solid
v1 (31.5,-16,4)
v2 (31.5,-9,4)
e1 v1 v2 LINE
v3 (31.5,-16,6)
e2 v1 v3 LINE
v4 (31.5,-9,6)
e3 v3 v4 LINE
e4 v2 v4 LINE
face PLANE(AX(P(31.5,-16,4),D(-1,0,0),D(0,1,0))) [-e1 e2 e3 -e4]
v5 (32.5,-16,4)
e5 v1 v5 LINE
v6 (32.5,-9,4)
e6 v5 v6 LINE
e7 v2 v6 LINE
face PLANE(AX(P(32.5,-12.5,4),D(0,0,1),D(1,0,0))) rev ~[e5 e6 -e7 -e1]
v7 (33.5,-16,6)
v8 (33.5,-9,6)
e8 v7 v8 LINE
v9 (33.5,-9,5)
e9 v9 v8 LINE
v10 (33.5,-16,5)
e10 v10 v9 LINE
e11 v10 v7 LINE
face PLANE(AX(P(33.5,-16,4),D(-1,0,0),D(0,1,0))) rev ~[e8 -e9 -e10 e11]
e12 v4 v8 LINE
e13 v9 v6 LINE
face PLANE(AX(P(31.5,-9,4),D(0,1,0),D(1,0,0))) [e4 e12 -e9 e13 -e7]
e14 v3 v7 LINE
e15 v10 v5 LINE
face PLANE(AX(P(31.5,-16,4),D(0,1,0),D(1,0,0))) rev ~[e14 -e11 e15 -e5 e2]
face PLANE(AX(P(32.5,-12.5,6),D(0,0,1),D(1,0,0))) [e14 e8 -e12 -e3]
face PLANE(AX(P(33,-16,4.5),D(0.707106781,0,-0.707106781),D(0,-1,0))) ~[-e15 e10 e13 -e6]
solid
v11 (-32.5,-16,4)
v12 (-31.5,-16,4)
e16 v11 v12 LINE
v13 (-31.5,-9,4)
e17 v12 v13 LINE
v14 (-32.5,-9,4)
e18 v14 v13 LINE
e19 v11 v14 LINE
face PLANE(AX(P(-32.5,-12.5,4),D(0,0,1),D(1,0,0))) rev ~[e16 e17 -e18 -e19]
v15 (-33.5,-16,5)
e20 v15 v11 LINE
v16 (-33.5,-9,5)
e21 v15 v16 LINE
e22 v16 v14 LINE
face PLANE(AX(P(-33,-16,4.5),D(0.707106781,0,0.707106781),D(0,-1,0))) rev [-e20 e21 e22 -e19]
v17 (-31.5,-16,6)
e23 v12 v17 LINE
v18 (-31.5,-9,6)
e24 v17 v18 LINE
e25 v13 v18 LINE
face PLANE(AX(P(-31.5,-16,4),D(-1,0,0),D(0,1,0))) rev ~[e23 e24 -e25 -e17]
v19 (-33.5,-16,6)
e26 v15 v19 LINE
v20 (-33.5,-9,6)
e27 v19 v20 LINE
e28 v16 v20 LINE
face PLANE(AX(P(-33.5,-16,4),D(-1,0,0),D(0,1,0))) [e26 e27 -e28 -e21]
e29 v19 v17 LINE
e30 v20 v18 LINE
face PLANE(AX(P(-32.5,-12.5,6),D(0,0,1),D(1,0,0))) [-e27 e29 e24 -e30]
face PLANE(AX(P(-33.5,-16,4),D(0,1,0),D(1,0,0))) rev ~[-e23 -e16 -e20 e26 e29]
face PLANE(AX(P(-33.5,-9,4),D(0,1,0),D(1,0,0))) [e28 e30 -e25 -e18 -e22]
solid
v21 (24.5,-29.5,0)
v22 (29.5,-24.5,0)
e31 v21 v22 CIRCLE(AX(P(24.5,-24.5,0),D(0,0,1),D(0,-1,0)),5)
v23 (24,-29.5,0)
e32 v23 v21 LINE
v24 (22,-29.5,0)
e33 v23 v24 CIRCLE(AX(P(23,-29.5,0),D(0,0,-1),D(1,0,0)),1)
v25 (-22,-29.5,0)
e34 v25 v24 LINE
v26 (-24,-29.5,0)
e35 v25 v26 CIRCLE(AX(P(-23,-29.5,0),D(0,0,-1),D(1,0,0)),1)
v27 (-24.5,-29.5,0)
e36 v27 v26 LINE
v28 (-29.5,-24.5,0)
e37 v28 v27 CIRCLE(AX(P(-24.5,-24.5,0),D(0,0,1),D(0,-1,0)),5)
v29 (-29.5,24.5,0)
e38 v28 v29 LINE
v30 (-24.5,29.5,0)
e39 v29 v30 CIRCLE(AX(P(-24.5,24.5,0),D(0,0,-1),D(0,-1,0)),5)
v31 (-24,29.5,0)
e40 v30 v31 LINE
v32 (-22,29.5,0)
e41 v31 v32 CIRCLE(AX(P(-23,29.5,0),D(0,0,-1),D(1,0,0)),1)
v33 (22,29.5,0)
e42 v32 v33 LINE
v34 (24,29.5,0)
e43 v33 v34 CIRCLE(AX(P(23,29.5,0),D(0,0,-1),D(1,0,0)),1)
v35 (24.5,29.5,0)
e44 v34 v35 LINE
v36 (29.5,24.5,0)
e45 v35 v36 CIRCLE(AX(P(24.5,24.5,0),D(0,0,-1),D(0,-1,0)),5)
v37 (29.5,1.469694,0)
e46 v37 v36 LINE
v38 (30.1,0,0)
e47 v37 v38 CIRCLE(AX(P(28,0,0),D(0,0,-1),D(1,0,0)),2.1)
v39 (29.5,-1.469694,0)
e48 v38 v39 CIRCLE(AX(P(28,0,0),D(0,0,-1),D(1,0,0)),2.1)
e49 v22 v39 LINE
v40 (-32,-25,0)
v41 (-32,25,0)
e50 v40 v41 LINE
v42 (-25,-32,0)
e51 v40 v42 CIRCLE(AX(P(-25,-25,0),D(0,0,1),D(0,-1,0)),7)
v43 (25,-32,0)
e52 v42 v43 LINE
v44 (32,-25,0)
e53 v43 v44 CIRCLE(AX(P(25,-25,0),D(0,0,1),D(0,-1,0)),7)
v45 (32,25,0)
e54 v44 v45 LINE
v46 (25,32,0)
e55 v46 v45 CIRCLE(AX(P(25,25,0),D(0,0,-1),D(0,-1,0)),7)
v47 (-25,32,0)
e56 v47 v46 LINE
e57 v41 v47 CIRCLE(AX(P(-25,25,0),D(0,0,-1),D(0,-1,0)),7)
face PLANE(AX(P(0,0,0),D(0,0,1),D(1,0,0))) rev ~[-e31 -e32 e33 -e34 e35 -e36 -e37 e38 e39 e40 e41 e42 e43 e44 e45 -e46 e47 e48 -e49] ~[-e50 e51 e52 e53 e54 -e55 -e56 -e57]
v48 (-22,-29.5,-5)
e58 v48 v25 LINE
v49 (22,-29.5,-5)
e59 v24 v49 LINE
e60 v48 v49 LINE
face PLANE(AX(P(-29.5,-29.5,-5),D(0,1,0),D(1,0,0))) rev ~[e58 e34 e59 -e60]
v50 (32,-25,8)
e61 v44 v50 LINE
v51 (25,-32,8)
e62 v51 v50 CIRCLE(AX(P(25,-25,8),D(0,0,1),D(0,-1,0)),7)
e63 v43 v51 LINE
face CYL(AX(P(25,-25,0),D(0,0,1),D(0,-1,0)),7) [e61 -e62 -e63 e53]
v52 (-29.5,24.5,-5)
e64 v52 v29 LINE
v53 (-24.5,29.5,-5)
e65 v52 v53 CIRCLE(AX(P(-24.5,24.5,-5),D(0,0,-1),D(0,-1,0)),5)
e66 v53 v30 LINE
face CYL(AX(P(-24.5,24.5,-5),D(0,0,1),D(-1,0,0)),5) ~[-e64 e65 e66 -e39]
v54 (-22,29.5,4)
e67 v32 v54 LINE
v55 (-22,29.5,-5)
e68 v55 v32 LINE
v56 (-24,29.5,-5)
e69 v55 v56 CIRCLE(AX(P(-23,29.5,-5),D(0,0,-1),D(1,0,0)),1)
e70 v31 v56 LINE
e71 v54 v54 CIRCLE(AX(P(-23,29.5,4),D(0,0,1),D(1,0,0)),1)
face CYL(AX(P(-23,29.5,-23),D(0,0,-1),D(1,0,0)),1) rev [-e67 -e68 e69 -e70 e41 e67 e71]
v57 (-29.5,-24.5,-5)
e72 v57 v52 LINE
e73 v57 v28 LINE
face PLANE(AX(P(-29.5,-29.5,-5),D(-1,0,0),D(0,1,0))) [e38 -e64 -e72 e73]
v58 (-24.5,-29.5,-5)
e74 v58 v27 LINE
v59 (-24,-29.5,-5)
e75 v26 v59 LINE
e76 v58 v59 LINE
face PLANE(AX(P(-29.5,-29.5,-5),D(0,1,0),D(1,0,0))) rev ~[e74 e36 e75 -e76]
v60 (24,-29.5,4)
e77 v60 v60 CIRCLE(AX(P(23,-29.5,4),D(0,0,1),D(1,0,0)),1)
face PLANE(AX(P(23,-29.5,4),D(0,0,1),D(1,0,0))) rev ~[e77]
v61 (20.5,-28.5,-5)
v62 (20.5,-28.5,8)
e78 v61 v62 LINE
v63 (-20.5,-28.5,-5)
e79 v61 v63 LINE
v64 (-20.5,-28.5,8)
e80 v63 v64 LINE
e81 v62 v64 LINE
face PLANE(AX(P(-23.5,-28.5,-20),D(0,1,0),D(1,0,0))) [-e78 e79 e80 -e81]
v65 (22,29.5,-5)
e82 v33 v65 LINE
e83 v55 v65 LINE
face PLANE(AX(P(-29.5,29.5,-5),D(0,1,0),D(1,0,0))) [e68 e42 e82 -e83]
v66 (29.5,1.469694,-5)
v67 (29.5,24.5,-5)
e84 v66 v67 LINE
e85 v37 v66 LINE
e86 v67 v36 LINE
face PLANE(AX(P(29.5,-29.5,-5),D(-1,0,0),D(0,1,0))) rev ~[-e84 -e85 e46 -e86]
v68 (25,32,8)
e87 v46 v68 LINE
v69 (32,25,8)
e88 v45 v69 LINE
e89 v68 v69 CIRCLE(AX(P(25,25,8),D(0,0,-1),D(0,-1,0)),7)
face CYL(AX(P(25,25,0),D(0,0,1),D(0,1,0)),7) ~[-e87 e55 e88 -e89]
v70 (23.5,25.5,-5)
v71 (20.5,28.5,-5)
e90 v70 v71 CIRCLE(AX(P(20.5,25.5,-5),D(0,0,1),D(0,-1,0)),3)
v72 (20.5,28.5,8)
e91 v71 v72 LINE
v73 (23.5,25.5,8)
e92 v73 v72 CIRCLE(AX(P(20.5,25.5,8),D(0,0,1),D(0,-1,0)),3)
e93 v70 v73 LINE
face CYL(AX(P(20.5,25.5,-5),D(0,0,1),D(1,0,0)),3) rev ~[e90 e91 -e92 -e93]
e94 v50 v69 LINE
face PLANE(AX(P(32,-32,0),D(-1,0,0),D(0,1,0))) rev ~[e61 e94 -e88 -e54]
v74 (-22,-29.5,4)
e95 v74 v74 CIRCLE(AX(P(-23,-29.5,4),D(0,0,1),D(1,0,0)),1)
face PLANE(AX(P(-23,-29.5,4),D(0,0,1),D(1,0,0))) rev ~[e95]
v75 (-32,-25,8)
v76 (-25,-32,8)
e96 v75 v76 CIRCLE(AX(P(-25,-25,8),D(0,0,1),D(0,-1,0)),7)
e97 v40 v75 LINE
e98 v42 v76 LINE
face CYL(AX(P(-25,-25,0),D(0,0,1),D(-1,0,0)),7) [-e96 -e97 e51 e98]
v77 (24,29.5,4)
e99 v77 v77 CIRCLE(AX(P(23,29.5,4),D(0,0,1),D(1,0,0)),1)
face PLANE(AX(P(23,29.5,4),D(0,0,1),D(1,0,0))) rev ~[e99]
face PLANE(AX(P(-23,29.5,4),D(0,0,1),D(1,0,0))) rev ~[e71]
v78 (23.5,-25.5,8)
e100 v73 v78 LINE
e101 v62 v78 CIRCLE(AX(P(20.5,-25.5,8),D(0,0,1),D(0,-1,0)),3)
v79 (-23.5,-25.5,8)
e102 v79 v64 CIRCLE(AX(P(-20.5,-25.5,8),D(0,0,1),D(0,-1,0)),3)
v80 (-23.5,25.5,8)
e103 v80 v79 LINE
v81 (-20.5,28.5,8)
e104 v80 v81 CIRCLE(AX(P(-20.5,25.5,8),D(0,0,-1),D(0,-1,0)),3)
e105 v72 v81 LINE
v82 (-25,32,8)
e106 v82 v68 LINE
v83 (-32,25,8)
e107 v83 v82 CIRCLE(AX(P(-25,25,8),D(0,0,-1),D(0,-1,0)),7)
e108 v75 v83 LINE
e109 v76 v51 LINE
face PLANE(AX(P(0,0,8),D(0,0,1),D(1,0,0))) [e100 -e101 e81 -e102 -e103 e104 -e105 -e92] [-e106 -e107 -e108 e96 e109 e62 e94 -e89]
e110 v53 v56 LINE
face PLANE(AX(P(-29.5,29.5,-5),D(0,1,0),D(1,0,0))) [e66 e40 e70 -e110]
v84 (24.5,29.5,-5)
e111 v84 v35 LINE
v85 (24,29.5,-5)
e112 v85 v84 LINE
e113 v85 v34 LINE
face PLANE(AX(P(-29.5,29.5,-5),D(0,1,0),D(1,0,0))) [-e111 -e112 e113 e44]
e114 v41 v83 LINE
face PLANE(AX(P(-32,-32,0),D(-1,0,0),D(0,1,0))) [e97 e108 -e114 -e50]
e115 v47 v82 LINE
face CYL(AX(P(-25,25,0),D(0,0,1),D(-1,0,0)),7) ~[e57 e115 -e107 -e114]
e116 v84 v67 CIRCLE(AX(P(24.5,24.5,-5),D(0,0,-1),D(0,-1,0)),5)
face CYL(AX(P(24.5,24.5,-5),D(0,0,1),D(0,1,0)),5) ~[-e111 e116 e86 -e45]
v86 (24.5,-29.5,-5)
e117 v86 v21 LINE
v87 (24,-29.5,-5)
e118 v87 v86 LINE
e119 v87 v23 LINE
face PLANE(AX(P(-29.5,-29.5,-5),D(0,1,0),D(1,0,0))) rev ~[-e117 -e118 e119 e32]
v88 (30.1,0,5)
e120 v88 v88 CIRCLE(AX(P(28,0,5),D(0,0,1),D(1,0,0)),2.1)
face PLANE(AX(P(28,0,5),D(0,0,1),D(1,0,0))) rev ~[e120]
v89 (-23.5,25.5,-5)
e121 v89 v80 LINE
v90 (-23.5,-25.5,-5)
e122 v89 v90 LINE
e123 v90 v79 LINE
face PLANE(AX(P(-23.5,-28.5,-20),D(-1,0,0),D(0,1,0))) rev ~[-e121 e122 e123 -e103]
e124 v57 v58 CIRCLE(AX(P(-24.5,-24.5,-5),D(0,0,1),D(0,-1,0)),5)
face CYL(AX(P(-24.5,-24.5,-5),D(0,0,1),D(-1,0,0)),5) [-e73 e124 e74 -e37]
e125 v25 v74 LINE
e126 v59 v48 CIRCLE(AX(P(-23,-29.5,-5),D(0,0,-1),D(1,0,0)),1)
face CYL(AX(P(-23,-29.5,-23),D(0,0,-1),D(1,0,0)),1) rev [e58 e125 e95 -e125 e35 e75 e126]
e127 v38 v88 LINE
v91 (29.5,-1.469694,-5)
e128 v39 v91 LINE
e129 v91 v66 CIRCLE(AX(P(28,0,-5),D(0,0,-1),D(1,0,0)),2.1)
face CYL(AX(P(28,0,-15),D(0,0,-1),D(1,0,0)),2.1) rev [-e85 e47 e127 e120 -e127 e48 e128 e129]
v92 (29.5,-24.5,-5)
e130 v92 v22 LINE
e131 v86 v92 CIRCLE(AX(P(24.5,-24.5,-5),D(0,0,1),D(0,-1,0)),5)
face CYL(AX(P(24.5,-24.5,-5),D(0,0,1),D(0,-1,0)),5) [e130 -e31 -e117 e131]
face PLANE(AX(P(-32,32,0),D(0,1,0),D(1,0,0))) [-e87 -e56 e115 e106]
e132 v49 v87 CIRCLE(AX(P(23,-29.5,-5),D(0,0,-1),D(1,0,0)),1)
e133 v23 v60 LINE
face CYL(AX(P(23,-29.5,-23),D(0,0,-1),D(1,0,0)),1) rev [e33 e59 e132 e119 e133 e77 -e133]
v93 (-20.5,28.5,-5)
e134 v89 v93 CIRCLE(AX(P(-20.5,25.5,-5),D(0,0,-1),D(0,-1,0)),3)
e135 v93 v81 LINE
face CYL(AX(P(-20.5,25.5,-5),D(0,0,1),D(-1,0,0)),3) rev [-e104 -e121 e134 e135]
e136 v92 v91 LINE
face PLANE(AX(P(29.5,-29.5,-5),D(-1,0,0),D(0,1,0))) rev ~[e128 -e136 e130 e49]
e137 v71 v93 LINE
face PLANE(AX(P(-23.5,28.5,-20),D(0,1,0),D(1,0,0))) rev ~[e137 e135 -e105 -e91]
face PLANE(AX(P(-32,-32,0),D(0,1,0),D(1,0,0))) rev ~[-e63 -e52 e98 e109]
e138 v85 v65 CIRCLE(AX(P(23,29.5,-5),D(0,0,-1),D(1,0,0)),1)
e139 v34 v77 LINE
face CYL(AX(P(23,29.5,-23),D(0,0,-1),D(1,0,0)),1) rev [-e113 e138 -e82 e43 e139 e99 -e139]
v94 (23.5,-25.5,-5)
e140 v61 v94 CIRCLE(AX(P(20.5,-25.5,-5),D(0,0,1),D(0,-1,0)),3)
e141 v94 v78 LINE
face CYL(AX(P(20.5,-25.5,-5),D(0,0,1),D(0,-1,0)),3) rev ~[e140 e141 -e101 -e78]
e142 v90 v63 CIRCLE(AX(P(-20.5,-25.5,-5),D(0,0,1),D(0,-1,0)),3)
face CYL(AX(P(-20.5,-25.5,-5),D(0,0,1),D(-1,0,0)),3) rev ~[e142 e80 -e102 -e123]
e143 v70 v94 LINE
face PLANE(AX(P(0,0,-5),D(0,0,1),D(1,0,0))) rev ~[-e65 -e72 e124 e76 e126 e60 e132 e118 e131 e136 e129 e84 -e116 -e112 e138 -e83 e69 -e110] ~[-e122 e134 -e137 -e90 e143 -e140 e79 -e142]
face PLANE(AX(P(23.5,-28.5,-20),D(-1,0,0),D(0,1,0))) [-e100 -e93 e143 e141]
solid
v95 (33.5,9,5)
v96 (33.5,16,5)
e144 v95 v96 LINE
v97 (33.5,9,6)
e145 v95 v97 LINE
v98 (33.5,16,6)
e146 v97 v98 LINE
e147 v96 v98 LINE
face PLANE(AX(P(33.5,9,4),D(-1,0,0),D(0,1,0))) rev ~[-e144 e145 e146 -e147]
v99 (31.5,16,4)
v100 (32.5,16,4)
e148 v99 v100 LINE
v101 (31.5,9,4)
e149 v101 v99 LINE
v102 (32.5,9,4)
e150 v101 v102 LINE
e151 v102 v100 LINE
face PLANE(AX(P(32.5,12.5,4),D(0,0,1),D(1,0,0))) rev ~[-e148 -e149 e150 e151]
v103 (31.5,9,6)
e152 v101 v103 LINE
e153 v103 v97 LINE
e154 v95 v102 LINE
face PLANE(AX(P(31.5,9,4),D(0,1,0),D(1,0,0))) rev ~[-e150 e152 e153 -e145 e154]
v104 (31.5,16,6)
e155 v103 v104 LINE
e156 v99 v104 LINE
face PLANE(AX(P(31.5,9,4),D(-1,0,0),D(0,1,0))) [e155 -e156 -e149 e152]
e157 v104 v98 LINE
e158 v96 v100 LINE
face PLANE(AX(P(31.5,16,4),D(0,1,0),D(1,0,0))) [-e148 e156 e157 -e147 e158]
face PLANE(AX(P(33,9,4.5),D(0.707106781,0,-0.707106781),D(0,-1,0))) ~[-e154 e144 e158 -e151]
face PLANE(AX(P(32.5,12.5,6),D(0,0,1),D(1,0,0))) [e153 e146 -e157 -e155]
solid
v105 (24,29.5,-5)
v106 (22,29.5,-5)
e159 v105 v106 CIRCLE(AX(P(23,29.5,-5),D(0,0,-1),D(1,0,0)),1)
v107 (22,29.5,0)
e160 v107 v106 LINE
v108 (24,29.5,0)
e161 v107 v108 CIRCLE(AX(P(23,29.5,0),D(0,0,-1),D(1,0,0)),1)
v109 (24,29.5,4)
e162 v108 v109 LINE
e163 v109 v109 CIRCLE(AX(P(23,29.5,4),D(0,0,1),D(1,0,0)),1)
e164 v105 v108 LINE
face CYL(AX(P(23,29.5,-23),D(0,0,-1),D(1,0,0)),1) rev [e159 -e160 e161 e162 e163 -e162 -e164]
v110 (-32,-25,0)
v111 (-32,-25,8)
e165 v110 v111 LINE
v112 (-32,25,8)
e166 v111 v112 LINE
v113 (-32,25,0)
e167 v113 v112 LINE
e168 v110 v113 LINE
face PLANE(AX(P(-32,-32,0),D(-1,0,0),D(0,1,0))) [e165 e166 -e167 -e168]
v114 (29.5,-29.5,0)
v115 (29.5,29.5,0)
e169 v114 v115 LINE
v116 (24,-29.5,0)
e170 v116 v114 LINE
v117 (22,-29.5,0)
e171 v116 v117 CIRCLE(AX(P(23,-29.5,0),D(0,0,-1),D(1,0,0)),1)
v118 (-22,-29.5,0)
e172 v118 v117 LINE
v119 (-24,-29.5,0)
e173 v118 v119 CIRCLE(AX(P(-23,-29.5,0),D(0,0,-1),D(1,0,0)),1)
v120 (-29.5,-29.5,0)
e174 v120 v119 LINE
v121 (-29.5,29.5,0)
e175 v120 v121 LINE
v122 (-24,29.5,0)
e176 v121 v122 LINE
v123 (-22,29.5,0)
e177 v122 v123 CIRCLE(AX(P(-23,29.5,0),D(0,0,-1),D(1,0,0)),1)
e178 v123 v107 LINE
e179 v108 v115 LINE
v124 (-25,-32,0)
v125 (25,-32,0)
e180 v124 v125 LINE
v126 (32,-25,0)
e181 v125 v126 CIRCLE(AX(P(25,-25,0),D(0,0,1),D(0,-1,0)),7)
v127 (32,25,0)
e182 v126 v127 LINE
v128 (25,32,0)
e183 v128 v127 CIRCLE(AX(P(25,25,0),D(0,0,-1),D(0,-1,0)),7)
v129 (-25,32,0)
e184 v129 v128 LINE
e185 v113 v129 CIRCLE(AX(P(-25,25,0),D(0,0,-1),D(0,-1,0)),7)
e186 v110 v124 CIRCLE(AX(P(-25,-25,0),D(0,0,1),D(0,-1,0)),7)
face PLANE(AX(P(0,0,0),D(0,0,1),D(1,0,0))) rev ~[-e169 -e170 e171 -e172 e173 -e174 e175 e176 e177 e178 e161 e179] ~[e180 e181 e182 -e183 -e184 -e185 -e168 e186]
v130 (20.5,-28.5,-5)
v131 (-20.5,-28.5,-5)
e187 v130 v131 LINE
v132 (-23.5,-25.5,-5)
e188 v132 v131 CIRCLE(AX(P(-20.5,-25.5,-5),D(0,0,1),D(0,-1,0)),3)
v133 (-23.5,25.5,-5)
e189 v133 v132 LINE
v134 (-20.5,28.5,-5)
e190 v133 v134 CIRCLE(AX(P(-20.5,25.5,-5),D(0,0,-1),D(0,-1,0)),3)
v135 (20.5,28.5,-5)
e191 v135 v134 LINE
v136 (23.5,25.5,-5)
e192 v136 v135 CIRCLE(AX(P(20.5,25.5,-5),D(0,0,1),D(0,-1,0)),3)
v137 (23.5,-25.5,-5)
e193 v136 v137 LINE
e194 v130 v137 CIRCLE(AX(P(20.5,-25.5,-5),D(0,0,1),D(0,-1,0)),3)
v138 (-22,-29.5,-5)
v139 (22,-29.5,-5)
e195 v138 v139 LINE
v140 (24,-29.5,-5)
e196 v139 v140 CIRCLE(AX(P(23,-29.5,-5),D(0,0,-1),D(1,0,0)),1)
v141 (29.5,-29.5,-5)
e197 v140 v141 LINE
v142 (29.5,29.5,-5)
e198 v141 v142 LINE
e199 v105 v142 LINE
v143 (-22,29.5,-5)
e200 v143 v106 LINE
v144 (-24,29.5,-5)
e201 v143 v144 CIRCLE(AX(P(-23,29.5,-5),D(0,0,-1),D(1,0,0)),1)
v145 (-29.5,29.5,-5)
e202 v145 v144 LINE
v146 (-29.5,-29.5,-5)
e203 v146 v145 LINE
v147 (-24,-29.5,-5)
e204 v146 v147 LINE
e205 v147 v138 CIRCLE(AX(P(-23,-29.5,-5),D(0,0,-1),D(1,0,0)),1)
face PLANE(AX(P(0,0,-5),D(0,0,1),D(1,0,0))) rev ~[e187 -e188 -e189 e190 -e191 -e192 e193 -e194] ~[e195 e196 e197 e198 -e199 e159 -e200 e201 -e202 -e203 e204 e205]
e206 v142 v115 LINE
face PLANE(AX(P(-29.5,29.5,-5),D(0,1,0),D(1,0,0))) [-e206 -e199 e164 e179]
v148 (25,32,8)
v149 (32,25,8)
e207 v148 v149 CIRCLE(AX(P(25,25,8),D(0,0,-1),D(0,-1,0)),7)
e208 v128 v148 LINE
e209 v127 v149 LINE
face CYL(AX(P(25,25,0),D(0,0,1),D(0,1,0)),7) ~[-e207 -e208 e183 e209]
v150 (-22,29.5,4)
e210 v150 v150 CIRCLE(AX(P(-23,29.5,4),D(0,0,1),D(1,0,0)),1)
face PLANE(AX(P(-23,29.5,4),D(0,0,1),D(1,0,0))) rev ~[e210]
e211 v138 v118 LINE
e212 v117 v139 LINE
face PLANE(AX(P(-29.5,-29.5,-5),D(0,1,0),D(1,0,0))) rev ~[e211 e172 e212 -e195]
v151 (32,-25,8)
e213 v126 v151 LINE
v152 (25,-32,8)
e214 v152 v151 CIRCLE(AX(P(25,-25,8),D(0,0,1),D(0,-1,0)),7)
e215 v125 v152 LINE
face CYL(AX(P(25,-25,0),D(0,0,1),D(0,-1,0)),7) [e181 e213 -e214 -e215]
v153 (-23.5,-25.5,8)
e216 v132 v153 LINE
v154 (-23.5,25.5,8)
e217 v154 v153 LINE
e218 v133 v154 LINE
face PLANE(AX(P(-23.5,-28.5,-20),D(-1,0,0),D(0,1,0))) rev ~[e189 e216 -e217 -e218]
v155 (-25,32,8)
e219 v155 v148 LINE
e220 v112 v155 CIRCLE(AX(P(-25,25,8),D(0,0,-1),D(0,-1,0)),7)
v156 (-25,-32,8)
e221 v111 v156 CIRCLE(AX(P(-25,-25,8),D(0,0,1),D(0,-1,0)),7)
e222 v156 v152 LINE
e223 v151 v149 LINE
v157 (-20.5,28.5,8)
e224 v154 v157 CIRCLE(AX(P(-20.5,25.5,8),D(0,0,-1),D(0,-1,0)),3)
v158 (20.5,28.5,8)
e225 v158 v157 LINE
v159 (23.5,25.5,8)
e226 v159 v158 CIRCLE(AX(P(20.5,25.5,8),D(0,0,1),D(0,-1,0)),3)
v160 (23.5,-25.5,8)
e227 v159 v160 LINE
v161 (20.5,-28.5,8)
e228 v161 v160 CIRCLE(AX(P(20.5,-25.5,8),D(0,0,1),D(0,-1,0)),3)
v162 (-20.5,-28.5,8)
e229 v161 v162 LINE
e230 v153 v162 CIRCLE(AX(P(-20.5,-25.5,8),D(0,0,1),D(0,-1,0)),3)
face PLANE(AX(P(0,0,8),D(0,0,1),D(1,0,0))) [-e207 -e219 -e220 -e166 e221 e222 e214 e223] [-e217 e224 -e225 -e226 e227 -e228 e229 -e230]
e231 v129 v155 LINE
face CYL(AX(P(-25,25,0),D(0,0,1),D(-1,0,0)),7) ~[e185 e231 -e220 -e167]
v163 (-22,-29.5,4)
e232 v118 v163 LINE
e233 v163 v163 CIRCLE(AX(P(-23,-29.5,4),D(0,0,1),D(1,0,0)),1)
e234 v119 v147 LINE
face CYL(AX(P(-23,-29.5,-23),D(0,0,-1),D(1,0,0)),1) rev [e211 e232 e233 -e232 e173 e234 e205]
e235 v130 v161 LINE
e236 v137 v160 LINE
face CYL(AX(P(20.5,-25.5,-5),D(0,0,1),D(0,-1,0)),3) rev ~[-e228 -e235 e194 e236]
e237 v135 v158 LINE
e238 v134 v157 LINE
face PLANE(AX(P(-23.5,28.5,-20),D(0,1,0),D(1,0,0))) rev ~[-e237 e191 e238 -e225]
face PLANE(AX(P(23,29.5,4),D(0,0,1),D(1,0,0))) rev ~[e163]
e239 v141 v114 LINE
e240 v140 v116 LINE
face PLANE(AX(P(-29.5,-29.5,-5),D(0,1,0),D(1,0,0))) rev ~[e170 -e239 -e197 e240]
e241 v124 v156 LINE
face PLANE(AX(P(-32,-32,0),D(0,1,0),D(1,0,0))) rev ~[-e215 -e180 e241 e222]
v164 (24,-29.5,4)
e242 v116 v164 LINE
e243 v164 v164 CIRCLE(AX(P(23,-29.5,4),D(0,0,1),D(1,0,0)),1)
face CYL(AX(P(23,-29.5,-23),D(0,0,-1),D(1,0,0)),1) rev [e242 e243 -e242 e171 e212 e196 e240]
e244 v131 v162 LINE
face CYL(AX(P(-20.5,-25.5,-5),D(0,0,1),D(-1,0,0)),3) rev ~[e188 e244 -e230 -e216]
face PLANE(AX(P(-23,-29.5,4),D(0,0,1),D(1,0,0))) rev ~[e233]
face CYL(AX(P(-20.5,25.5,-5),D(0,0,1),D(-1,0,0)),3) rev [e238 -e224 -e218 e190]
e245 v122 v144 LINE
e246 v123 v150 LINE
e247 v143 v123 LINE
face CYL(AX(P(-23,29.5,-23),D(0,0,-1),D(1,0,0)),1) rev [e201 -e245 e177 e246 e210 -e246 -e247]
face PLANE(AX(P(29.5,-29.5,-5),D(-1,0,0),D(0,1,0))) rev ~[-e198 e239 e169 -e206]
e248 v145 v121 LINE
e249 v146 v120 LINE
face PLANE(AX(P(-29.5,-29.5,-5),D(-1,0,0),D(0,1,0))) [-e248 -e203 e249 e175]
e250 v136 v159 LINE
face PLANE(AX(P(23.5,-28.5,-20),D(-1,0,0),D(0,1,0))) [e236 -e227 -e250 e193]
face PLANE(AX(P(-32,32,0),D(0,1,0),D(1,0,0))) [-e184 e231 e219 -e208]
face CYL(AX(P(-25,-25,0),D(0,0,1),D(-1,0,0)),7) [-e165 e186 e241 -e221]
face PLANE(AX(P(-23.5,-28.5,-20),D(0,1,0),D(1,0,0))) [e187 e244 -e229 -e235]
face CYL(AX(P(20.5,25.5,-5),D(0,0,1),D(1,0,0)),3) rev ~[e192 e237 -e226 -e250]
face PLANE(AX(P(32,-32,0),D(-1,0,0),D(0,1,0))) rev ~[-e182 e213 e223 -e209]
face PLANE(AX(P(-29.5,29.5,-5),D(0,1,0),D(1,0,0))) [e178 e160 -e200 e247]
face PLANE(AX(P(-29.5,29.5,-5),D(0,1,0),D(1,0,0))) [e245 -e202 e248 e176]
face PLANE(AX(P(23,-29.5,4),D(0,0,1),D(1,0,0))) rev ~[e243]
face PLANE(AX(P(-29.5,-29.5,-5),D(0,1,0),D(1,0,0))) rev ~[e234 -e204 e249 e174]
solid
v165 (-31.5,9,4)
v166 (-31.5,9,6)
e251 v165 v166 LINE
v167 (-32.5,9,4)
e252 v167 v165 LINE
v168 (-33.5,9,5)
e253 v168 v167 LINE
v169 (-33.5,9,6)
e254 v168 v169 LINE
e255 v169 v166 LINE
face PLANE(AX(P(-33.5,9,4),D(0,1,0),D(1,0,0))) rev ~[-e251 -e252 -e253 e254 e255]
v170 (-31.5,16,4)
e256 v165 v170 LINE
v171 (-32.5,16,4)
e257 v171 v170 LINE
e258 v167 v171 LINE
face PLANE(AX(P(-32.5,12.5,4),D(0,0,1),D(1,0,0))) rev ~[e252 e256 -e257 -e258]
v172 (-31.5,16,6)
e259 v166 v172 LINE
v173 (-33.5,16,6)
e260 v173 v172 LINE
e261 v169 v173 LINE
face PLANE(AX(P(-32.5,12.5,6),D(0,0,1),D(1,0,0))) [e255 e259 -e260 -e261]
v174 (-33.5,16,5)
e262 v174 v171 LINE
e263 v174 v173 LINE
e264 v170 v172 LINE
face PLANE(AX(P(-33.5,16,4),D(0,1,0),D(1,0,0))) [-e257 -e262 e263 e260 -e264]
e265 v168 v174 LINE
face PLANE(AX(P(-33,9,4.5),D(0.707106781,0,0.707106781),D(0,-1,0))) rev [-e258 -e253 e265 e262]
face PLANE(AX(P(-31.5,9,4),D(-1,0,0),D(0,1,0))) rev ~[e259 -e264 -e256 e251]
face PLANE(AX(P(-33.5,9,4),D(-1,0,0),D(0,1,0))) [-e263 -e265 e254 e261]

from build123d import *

# Parameters (mm, degrees)
BOX003_W          = 2
BOX003_H          = 7
BOX003_DEPTH      = 2
CHAMFER_SIZE      = 1
BOX004_W          = 2
BOX004_H          = 7
BOX004_DEPTH      = 2
CHAMFER001_SIZE   = 1
BOX005_W          = 2
BOX005_H          = 7
BOX005_DEPTH      = 2
CHAMFER002_SIZE   = 1
BOX006_W          = 2
BOX006_H          = 7
BOX006_DEPTH      = 2
CHAMFER003_SIZE   = 1
CYLINDER003_R     = 1
CYLINDER003_DEPTH = 27
CYLINDER002_R     = 1
CYLINDER002_DEPTH = 27
CYLINDER_R        = 1
CYLINDER_DEPTH    = 27
CYLINDER001_R     = 1
CYLINDER001_DEPTH = 27
BOX002_W          = 47
BOX002_H          = 57
BOX002_DEPTH      = 40
BOX001_W          = 59
BOX001_H          = 59
BOX001_DEPTH      = 5
BOX_W             = 64
BOX_H             = 64
BOX_DEPTH         = 8
FILLET_R          = 7
FILLET001_R       = 3
CYLINDER004_R     = 2.1
CYLINDER004_DEPTH = 20
FILLET002_R       = 5


with BuildPart() as chamfer_body:
    # Box003 → Box003 (new body)
    with BuildSketch(Plane(origin=(-33.5, 9, 4), x_dir=(1, 0, 0), z_dir=(0, 0, 1))):
        with Locations((1, 3.5)):
            Rectangle(BOX003_W, BOX003_H)
    extrude(amount=BOX003_DEPTH)

    # Chamfer
    chamfer_edges = [chamfer_body.edges().sort_by_distance(p)[0] for p in [
        (-33.5, 12.5, 4),
    ]]
    chamfer(chamfer_edges, length=CHAMFER_SIZE)


with BuildPart() as chamfer001:
    # Box004 → Box004 (new body)
    with BuildSketch(Plane(origin=(-33.5, -16, 4), x_dir=(1, 0, 0), z_dir=(0, 0, 1))):
        with Locations((1, 3.5)):
            Rectangle(BOX004_W, BOX004_H)
    extrude(amount=BOX004_DEPTH)

    # Chamfer001
    chamfer001_edges = [chamfer001.edges().sort_by_distance(p)[0] for p in [
        (-33.5, -12.5, 4),
    ]]
    chamfer(chamfer001_edges, length=CHAMFER001_SIZE)


with BuildPart() as chamfer002:
    # Box005 → Box005 (new body)
    with BuildSketch(Plane(origin=(31.5, -16, 4), x_dir=(1, 0, 0), z_dir=(0, 0, 1))):
        with Locations((1, 3.5)):
            Rectangle(BOX005_W, BOX005_H)
    extrude(amount=BOX005_DEPTH)

    # Chamfer002
    chamfer002_edges = [chamfer002.edges().sort_by_distance(p)[0] for p in [
        (33.5, -12.5, 4),
    ]]
    chamfer(chamfer002_edges, length=CHAMFER002_SIZE)


with BuildPart() as chamfer003:
    # Box006 → Box006 (new body)
    with BuildSketch(Plane(origin=(31.5, 9, 4), x_dir=(1, 0, 0), z_dir=(0, 0, 1))):
        with Locations((1, 3.5)):
            Rectangle(BOX006_W, BOX006_H)
    extrude(amount=BOX006_DEPTH)

    # Chamfer003
    chamfer003_edges = [chamfer003.edges().sort_by_distance(p)[0] for p in [
        (33.5, 12.5, 4),
    ]]
    chamfer(chamfer003_edges, length=CHAMFER003_SIZE)


with BuildPart() as cylinder003:
    # Cylinder003 → Cylinder003 (new body)
    with BuildSketch(Plane(origin=(23, -29.5, -23), x_dir=(1, 0, 0), z_dir=(0, 0, 1))):
        Circle(CYLINDER003_R)
    extrude(amount=CYLINDER003_DEPTH)


with BuildPart() as cylinder002:
    # Cylinder002 → Cylinder002 (new body)
    with BuildSketch(Plane(origin=(-23, -29.5, -23), x_dir=(1, 0, 0), z_dir=(0, 0, 1))):
        Circle(CYLINDER002_R)
    extrude(amount=CYLINDER002_DEPTH)


with BuildPart() as cylinder:
    # Cylinder → Cylinder (new body)
    with BuildSketch(Plane(origin=(23, 29.5, -23), x_dir=(1, 0, 0), z_dir=(0, 0, 1))):
        Circle(CYLINDER_R)
    extrude(amount=CYLINDER_DEPTH)


with BuildPart() as cylinder001:
    # Cylinder001 → Cylinder001 (new body)
    with BuildSketch(Plane(origin=(-23, 29.5, -23), x_dir=(1, 0, 0), z_dir=(0, 0, 1))):
        Circle(CYLINDER001_R)
    extrude(amount=CYLINDER001_DEPTH)


with BuildPart() as cube002:
    # Box002 → Box002 (new body)
    with BuildSketch(Plane(origin=(-23.5, -28.5, -20), x_dir=(1, 0, 0), z_dir=(0, 0, 1))):
        with Locations((23.5, 28.5)):
            Rectangle(BOX002_W, BOX002_H)
    extrude(amount=BOX002_DEPTH)


with BuildPart() as cube001:
    # Box001 → Box001 (new body)
    with BuildSketch(Plane(origin=(-29.5, -29.5, -5), x_dir=(1, 0, 0), z_dir=(0, 0, 1))):
        with Locations((29.5, 29.5)):
            Rectangle(BOX001_W, BOX001_H)
    extrude(amount=BOX001_DEPTH)


with BuildPart() as fillet001:
    # Box → Box (new body)
    with BuildSketch(Plane(origin=(-32, -32, 0), x_dir=(1, 0, 0), z_dir=(0, 0, 1))):
        with Locations((32, 32)):
            Rectangle(BOX_W, BOX_H)
    extrude(amount=BOX_DEPTH)

    # Fusion: union Cube001
    add(cube001.part)

    # Cut: cut Cube002
    add(cube002.part, mode=Mode.SUBTRACT)

    # Fillet
    fillet_edges = [fillet001.edges().sort_by_distance(p)[0] for p in [
        (-32, -32, 4),
        (-32, 32, 4),
        (32, -32, 4),
        (32, 32, 4),
    ]]
    fillet(fillet_edges, radius=FILLET_R)

    # Fillet001
    fillet001_edges = [fillet001.edges().sort_by_distance(p)[0] for p in [
        (23.5, -28.5, 1.5),
        (-23.5, -28.5, 1.5),
        (23.5, 28.5, 1.5),
        (-23.5, 28.5, 1.5),
    ]]
    fillet(fillet001_edges, radius=FILLET001_R)


with BuildPart() as cut004:
    # Cut001 base: copy of Fillet001
    add(fillet001.part)

    # Cut001: cut Cylinder001
    add(cylinder001.part, mode=Mode.SUBTRACT)

    # Cut002: cut Cylinder
    add(cylinder.part, mode=Mode.SUBTRACT)

    # Cut003: cut Cylinder002
    add(cylinder002.part, mode=Mode.SUBTRACT)

    # Cut004: cut Cylinder003
    add(cylinder003.part, mode=Mode.SUBTRACT)


with BuildPart() as cylinder004:
    # Cylinder004 → Cylinder004 (new body)
    with BuildSketch(Plane(origin=(28, 0, -15), x_dir=(1, 0, 0), z_dir=(0, 0, 1))):
        Circle(CYLINDER004_R)
    extrude(amount=CYLINDER004_DEPTH)


with BuildPart() as cut009:
    # Fillet002 base: copy of Fillet001
    add(fillet001.part)

    # Fillet002
    fillet002_edges = [cut009.edges().sort_by_distance(p)[0] for p in [
        (-29.5, -29.5, -2.5),
        (-29.5, 29.5, -2.5),
        (29.5, 29.5, -2.5),
        (29.5, -29.5, -2.5),
    ]]
    fillet(fillet002_edges, radius=FILLET002_R)

    # Cut005: cut Cylinder001
    add(cylinder001.part, mode=Mode.SUBTRACT)

    # Cut006: cut Cylinder
    add(cylinder.part, mode=Mode.SUBTRACT)

    # Cut007: cut Cylinder002
    add(cylinder002.part, mode=Mode.SUBTRACT)

    # Cut008: cut Cylinder003
    add(cylinder003.part, mode=Mode.SUBTRACT)

    # Cut009: cut Cylinder004
    add(cylinder004.part, mode=Mode.SUBTRACT)


solid = Compound([chamfer_body.part, chamfer001.part, chamfer002.part, chamfer003.part, cut004.part, cut009.part])
